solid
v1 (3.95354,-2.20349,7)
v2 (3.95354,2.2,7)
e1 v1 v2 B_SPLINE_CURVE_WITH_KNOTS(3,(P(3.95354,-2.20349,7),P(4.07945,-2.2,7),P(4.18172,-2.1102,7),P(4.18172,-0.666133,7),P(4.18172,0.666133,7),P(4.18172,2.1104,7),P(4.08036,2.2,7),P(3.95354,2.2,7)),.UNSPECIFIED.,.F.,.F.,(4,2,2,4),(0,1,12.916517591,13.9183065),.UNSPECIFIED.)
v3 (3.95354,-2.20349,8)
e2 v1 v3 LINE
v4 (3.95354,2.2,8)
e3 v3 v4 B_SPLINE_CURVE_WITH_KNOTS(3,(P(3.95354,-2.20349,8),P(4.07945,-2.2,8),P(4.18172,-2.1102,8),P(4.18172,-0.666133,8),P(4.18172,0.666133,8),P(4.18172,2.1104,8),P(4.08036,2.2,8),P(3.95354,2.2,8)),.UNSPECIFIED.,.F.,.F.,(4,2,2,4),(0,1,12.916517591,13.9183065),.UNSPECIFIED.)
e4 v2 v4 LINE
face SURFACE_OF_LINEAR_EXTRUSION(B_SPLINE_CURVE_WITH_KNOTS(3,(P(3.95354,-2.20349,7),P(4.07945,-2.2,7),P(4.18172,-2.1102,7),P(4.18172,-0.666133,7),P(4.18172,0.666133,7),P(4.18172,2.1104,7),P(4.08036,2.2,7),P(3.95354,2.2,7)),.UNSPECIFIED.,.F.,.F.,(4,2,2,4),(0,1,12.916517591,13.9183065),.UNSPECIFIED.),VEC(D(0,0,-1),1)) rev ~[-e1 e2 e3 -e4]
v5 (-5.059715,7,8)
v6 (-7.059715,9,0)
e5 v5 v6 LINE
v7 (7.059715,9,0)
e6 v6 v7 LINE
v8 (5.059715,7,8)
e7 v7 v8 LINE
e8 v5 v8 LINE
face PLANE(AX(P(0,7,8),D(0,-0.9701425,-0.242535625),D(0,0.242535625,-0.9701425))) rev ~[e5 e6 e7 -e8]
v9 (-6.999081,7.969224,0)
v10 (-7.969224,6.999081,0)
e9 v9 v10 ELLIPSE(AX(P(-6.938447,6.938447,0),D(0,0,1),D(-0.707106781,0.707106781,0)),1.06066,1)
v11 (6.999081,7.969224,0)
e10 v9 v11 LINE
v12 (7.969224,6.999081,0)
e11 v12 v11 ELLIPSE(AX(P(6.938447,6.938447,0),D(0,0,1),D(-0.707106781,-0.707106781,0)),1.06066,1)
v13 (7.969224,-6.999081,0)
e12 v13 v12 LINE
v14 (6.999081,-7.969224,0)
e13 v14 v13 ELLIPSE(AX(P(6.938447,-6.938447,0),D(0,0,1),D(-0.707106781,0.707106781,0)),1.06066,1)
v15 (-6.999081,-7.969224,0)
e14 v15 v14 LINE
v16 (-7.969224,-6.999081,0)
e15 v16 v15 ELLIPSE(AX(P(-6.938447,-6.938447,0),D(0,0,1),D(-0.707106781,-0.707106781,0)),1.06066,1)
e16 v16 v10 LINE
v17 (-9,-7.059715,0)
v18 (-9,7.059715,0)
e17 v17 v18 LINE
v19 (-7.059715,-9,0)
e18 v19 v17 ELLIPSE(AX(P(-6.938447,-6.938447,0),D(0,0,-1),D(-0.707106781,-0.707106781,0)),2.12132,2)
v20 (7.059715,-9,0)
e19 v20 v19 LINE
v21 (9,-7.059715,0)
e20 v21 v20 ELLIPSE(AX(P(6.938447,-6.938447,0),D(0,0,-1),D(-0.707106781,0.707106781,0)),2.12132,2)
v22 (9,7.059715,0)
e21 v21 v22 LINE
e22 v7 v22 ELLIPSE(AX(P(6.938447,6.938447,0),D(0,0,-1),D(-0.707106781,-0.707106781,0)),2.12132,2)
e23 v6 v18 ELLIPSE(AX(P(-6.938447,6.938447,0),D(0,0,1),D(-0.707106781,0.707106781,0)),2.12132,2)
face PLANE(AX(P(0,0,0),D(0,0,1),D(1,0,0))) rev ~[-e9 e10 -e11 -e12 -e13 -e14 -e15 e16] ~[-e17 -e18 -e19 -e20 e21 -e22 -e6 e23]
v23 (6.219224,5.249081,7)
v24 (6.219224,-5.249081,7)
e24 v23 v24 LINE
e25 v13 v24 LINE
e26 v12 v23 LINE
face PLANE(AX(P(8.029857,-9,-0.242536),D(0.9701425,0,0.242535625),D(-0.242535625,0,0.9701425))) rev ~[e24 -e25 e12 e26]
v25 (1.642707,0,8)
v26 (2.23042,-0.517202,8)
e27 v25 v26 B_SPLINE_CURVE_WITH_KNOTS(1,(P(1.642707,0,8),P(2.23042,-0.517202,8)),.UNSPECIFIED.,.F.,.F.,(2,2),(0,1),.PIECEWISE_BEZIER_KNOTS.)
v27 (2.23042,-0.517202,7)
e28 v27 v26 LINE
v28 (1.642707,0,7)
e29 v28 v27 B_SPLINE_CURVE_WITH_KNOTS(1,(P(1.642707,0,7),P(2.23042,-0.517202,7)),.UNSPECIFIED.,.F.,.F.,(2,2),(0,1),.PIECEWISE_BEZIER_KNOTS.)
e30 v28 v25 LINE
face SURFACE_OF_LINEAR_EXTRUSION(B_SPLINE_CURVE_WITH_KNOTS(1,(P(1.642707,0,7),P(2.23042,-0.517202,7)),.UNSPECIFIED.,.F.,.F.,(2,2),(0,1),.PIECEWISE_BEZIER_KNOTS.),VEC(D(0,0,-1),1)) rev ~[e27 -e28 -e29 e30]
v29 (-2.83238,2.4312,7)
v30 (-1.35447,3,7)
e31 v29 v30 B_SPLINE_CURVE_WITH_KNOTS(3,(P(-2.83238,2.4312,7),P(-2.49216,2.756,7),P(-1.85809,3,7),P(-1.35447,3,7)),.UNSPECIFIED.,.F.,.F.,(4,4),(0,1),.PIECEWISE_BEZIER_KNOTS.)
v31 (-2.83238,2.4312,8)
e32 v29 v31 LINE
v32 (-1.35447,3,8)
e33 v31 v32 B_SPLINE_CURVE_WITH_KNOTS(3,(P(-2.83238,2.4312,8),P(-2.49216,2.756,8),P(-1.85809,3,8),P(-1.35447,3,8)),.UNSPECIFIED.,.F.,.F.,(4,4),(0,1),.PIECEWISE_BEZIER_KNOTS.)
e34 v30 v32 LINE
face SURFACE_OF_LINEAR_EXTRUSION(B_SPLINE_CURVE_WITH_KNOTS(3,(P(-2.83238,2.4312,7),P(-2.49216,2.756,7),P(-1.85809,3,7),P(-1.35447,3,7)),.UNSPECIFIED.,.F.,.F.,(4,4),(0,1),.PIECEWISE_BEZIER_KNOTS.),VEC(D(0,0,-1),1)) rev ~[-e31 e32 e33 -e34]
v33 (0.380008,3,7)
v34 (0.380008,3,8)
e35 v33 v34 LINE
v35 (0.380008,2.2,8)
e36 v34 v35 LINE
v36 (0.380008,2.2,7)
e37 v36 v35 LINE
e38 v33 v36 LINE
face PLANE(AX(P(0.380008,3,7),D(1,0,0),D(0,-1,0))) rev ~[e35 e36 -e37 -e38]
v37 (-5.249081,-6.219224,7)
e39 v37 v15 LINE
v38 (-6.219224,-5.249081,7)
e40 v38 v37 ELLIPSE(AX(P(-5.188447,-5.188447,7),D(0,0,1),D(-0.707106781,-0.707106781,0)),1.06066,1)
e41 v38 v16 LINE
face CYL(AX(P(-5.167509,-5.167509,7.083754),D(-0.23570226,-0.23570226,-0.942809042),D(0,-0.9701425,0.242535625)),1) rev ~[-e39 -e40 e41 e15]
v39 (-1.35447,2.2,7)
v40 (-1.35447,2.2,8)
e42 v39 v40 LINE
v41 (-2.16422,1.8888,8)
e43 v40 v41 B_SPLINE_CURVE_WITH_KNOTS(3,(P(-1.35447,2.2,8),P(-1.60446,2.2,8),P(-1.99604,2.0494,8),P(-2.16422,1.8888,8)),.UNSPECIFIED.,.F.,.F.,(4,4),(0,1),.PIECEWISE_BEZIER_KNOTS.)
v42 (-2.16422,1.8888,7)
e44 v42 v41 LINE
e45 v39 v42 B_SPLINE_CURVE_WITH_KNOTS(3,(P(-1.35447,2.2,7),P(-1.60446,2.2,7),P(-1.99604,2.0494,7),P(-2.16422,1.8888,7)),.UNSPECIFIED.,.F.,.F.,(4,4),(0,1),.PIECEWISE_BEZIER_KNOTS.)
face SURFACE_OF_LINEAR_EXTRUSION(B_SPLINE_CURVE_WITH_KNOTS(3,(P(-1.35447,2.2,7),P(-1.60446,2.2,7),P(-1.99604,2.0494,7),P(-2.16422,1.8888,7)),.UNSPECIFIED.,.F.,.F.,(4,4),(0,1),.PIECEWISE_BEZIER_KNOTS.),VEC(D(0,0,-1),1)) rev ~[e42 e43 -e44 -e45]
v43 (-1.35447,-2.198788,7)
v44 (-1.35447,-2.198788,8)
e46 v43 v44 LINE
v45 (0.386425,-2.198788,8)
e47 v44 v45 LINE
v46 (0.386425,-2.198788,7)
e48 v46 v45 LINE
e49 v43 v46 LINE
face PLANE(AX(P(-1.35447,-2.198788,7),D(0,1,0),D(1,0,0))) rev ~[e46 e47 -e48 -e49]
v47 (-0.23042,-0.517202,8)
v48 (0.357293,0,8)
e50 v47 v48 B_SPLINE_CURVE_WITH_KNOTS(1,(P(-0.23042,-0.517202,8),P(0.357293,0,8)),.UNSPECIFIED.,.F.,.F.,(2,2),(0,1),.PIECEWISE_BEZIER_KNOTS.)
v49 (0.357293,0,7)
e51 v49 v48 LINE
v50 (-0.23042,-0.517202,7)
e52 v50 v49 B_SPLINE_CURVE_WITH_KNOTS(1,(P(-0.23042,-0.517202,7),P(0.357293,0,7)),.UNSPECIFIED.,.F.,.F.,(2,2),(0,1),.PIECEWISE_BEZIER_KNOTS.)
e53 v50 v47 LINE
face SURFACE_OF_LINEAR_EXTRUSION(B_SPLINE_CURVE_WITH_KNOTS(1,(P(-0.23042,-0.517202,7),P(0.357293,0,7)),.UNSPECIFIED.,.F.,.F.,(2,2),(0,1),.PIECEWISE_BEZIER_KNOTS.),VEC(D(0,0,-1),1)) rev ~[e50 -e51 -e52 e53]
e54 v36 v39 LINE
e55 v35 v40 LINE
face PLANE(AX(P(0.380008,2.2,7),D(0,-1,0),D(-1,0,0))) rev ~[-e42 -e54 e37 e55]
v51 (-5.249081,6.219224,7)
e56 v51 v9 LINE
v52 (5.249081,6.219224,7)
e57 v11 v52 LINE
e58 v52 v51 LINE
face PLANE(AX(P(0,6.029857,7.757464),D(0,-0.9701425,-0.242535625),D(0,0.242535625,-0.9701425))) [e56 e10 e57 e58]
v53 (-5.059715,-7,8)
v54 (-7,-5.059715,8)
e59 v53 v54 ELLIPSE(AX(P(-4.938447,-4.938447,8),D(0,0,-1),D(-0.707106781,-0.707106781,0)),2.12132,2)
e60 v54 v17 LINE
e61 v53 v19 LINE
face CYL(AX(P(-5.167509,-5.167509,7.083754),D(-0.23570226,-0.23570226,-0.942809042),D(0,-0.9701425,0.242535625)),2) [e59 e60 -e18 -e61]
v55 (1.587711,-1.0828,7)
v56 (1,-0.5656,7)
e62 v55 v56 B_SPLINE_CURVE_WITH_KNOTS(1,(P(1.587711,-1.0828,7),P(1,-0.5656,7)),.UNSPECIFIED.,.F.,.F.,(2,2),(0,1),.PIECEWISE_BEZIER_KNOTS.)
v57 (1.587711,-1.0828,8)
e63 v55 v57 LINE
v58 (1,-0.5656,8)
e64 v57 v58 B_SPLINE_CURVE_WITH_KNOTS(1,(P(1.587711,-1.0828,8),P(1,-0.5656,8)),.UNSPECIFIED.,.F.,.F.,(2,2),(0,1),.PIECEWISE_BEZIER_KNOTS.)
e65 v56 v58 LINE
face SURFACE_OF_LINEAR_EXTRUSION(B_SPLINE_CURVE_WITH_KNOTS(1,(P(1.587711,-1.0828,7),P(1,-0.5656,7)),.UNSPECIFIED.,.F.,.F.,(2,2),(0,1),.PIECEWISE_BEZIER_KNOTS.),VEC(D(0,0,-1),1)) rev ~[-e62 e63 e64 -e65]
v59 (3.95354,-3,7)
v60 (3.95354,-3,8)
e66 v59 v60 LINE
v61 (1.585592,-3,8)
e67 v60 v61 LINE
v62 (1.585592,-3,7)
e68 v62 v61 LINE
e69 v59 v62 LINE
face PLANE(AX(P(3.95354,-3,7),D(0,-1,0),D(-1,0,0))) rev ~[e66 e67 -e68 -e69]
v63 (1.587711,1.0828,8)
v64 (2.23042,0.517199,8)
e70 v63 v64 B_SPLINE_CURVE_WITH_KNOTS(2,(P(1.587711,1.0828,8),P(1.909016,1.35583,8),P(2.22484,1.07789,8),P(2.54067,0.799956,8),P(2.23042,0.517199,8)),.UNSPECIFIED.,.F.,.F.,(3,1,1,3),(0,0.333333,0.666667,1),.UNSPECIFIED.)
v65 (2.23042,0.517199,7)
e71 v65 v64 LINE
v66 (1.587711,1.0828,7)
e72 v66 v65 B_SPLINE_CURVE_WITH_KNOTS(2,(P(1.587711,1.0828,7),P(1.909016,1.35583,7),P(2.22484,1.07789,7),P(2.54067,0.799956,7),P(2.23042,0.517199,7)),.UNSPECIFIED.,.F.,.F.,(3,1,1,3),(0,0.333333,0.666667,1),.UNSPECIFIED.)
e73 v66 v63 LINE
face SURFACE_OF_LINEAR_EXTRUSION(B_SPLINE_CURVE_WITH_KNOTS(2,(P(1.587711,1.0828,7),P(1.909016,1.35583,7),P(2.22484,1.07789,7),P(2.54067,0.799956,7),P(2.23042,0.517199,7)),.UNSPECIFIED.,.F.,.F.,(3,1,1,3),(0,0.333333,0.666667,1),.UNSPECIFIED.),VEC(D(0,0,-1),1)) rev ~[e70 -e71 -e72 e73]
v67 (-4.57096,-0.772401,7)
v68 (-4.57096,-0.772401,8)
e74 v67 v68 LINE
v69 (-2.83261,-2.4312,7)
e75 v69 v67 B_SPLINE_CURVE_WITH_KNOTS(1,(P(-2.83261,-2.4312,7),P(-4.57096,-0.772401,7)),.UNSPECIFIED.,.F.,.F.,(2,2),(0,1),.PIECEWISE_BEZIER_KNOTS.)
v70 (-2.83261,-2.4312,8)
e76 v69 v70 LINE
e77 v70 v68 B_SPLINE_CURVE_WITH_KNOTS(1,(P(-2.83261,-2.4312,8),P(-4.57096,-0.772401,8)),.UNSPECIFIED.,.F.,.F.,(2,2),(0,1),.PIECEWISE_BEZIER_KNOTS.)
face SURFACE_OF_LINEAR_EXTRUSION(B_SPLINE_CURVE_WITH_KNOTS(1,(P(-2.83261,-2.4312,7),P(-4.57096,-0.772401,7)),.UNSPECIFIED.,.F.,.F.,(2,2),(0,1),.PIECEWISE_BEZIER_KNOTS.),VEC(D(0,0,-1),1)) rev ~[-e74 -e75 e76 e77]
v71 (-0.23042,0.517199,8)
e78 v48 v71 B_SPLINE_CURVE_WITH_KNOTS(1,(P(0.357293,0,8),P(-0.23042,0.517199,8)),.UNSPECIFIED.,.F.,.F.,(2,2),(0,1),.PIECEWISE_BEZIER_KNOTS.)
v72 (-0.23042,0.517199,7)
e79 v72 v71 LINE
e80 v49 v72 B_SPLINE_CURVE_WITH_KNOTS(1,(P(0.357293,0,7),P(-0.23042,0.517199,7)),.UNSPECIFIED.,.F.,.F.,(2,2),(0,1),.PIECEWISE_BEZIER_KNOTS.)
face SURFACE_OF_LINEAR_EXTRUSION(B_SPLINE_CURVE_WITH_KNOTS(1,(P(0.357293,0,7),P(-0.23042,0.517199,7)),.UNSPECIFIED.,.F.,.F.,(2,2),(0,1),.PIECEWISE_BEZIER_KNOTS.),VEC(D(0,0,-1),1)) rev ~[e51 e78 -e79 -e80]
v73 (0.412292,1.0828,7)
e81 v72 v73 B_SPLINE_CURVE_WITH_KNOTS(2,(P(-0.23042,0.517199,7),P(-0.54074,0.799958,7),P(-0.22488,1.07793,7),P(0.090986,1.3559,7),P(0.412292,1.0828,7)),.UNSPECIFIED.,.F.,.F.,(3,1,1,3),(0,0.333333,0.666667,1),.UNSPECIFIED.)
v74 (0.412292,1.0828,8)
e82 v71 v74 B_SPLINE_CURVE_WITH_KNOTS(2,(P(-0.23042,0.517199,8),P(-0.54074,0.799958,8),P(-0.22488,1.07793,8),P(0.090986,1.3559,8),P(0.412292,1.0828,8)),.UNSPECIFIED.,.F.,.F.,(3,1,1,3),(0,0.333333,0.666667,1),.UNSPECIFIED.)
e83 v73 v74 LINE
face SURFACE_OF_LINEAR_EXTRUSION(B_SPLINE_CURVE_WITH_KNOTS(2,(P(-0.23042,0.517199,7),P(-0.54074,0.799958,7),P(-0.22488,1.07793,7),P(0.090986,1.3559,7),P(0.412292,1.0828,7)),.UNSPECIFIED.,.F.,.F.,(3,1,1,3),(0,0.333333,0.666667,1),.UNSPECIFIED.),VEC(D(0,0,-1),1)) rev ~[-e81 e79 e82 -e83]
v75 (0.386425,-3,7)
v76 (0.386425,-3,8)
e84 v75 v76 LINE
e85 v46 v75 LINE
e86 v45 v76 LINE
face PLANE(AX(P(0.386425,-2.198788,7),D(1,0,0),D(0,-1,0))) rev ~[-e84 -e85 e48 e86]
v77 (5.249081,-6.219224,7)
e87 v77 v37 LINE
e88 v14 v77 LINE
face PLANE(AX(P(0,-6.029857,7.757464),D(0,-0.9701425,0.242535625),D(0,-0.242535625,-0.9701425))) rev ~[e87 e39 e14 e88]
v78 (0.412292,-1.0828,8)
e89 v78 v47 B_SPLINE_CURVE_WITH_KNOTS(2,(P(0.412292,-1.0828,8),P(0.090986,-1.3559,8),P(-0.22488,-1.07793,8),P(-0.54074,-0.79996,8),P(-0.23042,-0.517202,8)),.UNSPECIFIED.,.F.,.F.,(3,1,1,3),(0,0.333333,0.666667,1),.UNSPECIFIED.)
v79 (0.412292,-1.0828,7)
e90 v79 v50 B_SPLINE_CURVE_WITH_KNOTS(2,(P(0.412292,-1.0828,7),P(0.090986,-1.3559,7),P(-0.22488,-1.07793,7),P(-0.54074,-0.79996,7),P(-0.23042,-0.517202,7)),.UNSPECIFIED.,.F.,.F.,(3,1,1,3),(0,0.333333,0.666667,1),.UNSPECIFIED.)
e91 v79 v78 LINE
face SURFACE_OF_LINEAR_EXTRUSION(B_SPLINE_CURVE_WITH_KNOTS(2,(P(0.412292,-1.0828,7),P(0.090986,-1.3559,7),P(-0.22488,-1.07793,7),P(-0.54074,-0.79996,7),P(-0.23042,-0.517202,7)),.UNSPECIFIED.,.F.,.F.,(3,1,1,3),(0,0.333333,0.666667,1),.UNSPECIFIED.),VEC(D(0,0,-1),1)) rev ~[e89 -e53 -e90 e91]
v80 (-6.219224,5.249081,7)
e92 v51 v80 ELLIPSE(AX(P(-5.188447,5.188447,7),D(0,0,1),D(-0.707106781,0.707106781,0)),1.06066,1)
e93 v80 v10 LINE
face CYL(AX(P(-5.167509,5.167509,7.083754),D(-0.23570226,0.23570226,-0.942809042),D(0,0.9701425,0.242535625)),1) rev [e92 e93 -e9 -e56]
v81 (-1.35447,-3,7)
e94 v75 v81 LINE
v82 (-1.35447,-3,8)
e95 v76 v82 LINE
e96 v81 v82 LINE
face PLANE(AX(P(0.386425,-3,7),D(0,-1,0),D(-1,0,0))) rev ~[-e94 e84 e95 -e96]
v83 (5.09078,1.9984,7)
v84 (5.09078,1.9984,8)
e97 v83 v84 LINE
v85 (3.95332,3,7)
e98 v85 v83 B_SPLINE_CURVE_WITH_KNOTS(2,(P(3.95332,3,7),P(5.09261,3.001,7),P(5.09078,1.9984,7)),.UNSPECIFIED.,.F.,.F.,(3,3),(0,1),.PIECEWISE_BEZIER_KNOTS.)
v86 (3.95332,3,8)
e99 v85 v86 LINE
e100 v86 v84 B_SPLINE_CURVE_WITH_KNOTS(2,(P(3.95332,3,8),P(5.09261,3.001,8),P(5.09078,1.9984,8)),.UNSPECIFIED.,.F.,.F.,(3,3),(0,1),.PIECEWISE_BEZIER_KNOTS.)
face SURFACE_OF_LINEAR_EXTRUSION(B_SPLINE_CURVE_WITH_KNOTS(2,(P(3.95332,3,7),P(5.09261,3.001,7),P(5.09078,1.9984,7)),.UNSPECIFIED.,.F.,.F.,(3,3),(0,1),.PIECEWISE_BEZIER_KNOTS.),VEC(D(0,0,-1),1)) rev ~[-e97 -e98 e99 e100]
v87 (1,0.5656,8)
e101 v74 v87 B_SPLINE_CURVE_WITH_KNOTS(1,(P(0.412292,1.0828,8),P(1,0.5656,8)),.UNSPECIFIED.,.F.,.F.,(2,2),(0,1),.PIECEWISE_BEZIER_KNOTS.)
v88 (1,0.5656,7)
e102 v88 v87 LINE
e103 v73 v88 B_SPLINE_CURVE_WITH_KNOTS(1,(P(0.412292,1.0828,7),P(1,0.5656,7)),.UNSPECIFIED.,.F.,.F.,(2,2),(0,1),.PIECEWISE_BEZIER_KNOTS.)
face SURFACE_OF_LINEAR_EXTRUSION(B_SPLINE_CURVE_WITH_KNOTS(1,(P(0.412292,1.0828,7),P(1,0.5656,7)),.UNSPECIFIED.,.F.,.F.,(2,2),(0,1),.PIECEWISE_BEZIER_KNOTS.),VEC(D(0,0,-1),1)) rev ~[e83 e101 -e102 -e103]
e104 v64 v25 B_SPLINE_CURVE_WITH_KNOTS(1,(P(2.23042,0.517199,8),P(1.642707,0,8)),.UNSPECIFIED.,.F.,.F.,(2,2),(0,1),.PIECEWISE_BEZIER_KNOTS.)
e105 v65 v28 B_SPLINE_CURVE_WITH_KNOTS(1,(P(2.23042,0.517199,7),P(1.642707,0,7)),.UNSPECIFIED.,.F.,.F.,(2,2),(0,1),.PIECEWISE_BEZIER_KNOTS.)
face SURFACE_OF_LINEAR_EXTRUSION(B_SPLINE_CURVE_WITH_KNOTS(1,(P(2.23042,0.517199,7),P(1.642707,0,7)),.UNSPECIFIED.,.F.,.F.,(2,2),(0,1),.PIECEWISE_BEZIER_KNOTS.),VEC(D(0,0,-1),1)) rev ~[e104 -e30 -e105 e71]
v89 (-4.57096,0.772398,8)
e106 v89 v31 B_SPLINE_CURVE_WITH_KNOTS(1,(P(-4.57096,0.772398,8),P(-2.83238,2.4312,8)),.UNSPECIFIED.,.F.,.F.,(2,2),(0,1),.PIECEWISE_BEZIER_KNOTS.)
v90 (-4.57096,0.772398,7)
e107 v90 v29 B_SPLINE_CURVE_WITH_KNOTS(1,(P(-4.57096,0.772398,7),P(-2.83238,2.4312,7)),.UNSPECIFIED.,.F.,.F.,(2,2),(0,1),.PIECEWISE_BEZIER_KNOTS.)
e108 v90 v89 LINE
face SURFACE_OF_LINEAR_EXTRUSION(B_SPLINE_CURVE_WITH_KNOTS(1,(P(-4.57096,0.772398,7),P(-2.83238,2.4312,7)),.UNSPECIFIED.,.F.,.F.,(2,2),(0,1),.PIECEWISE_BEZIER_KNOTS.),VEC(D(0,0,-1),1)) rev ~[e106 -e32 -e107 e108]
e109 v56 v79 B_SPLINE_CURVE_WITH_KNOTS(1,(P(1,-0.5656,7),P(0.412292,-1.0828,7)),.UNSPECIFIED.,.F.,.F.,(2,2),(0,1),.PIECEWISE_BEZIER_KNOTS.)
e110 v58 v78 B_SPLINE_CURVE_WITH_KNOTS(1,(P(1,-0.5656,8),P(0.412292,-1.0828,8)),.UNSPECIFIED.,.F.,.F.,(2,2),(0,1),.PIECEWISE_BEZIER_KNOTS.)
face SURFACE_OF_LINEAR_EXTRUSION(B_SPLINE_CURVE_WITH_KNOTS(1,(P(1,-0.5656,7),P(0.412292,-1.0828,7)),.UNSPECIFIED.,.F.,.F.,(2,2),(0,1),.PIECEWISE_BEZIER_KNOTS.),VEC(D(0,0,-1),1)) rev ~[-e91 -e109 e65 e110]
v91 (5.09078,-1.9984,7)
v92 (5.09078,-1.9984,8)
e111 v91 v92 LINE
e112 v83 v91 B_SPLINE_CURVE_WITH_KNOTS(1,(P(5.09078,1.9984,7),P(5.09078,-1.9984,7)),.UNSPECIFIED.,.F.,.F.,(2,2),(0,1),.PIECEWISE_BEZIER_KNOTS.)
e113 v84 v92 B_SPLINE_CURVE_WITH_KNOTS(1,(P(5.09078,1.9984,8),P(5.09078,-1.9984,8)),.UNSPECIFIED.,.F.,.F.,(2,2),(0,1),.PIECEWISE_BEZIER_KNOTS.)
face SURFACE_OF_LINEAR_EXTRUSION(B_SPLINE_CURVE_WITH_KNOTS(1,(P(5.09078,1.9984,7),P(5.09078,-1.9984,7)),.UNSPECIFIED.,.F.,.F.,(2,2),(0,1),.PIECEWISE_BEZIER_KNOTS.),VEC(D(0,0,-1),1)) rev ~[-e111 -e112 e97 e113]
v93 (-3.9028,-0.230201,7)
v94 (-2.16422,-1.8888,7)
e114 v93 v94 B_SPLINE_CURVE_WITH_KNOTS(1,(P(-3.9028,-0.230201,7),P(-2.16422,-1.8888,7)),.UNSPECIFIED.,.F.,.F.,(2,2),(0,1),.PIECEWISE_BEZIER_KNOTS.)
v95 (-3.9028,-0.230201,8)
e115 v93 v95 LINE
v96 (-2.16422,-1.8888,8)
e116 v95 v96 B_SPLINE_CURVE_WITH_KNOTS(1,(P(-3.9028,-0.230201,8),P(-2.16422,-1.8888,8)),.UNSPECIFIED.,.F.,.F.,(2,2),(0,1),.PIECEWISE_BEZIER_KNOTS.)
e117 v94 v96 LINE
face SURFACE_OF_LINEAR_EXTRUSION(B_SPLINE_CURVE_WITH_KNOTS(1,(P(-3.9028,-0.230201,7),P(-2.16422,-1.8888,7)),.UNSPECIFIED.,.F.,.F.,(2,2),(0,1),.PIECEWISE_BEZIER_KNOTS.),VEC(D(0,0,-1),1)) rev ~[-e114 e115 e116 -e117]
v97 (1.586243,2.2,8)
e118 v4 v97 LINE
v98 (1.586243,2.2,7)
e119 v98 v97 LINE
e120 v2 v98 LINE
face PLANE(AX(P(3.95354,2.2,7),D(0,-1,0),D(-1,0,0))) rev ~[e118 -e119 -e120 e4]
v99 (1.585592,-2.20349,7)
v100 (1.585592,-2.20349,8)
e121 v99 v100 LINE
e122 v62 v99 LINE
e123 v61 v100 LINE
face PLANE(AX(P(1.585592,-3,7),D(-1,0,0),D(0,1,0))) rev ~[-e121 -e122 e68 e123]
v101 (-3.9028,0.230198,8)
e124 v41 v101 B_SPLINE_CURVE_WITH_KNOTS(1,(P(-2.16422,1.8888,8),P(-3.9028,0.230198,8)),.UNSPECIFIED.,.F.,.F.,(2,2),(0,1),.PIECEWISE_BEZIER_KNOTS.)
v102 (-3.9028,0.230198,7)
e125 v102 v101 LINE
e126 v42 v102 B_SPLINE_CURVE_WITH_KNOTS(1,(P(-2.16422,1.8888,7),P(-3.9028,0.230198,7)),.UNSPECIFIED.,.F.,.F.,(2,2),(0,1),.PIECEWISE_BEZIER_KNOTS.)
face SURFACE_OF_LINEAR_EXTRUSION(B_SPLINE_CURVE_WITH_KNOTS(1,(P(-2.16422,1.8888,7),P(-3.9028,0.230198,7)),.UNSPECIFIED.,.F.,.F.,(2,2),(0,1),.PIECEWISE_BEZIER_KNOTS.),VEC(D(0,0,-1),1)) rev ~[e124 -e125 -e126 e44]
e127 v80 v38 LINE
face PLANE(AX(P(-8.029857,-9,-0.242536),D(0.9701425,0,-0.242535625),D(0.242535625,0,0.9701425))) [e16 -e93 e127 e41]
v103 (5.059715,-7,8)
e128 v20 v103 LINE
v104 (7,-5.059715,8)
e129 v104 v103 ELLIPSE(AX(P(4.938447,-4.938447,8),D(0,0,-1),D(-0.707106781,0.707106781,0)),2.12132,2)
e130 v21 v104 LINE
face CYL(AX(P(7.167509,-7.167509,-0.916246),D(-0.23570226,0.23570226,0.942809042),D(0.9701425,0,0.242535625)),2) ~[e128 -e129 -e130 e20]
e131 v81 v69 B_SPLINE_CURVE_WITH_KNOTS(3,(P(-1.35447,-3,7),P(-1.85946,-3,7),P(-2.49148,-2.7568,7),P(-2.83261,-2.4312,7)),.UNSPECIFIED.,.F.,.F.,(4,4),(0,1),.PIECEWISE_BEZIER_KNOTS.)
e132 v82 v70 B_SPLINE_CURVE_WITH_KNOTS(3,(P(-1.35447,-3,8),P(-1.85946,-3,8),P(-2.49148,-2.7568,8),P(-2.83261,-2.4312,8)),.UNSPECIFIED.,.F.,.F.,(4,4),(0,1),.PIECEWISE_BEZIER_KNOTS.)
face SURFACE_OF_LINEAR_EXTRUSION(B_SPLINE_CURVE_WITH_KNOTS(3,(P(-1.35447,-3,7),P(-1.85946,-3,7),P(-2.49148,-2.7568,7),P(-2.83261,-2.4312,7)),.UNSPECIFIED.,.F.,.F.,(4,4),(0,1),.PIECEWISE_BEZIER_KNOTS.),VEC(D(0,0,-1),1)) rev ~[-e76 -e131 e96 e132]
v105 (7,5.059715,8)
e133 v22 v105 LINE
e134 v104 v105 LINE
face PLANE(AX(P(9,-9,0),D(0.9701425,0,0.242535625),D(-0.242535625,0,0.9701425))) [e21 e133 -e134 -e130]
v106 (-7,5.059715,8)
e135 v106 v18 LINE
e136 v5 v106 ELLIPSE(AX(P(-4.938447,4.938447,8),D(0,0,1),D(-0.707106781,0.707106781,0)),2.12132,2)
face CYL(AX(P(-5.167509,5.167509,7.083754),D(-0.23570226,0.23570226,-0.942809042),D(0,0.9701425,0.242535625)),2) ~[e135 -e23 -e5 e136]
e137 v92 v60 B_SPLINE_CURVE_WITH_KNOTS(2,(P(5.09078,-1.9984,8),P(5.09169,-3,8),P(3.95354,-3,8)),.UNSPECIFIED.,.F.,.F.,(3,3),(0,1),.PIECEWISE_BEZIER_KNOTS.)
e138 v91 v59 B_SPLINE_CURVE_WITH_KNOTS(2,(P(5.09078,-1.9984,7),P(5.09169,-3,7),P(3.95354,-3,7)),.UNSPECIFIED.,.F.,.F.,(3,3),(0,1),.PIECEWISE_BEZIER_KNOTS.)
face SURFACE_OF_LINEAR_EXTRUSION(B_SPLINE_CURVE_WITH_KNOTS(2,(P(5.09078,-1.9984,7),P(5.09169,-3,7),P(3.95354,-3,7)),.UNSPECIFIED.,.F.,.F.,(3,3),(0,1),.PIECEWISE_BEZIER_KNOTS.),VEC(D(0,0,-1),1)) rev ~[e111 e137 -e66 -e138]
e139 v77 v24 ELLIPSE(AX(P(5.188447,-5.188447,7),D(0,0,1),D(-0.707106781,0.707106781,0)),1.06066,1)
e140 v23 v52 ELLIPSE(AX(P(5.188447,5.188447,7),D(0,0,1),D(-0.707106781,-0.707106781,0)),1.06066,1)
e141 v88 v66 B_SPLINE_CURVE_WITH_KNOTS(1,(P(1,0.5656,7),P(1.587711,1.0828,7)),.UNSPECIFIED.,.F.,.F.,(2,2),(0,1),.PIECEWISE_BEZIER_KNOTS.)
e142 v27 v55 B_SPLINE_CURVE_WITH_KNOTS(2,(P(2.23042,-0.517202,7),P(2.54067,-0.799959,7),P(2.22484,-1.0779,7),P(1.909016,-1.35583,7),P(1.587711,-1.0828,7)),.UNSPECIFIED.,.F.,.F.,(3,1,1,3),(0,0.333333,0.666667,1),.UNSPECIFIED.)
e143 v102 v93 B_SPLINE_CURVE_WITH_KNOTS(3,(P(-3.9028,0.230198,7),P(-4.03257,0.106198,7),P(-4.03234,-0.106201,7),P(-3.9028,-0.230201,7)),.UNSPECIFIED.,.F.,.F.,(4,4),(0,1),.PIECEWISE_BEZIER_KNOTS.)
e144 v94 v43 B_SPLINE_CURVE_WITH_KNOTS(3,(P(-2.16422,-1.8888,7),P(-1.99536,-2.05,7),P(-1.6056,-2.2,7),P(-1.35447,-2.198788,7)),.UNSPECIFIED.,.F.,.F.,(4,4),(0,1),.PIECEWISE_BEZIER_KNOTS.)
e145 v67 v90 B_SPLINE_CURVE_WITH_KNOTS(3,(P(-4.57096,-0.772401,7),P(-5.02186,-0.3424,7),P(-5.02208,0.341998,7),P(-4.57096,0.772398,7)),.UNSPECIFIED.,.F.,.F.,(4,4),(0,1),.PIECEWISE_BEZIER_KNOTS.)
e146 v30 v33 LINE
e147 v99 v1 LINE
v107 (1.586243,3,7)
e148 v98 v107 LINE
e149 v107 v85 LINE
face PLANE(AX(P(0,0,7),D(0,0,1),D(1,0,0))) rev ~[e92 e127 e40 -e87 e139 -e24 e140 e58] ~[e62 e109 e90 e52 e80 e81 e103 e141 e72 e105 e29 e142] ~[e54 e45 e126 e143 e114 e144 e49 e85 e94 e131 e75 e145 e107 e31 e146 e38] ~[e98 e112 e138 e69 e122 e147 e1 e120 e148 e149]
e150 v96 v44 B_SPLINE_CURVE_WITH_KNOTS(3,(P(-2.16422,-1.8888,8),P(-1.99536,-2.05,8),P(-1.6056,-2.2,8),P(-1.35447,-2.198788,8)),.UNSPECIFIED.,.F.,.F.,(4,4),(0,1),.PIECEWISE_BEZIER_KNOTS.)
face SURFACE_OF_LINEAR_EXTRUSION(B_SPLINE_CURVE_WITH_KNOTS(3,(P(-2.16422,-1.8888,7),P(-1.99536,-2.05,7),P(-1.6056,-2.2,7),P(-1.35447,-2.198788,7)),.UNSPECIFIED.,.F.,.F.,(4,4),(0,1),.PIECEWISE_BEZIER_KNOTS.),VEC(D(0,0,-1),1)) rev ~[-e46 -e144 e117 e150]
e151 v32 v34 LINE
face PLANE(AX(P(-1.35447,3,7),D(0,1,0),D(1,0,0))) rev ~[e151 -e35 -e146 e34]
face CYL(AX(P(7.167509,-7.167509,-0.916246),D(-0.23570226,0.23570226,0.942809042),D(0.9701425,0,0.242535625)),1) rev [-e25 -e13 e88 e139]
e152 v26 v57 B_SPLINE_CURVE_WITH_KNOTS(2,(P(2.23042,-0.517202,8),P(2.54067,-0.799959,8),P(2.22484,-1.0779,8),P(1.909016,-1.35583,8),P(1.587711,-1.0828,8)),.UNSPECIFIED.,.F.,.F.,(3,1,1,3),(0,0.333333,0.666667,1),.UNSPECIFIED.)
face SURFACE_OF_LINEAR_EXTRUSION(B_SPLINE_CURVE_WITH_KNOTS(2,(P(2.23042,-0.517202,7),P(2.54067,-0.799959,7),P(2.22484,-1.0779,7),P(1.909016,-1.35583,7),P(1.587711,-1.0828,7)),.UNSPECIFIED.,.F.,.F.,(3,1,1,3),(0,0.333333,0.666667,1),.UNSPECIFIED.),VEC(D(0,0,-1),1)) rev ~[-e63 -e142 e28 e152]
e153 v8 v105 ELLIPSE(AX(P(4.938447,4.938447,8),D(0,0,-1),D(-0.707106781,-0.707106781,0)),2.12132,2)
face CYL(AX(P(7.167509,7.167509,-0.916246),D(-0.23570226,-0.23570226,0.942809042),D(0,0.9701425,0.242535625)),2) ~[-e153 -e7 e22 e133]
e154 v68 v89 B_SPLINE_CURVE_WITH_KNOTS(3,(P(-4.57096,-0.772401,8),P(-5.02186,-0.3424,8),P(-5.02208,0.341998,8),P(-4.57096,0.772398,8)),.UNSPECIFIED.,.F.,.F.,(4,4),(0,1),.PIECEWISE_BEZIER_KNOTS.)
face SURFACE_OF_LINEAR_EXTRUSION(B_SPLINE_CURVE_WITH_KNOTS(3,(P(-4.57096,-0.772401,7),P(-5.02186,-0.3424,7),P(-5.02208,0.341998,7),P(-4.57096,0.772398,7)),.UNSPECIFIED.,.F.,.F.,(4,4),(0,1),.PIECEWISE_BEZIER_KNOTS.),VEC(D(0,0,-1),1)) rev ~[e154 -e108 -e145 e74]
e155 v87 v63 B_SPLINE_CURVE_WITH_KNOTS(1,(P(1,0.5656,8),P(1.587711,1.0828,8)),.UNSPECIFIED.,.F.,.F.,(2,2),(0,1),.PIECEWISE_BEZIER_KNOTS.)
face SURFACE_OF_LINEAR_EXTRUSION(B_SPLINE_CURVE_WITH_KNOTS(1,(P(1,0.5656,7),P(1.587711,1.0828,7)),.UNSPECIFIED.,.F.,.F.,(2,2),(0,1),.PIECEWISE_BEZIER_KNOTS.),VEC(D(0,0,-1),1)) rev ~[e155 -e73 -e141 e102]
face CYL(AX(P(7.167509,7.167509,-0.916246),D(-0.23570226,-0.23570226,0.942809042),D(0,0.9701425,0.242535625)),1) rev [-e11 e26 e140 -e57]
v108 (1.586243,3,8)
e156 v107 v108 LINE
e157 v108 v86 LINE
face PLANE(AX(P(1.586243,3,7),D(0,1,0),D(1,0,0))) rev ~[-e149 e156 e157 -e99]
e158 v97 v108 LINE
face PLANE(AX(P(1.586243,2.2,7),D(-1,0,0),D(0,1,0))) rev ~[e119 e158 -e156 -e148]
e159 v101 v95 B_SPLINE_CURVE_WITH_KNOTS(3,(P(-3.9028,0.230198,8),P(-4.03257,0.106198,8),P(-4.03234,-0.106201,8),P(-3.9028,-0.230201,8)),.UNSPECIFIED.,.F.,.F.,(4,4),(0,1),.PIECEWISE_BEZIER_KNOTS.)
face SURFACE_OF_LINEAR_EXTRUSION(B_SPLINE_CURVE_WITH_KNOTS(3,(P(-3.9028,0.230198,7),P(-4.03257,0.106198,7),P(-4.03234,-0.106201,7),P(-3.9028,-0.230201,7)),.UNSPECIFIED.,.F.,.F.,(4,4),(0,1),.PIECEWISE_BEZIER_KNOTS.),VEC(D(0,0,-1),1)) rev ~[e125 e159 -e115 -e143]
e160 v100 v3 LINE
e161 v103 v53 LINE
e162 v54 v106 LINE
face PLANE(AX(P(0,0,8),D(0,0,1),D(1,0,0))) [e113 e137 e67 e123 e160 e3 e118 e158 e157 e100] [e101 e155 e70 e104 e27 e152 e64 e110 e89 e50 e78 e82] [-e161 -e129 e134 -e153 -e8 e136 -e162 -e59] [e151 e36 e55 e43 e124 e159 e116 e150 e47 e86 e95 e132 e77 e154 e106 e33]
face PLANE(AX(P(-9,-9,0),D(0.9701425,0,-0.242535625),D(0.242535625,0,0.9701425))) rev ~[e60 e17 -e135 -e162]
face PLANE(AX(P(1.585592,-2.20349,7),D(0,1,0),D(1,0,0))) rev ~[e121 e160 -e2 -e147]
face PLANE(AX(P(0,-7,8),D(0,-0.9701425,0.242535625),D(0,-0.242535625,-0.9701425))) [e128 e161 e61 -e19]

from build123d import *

# Parameters (mm, degrees)
EXTRUDE_DEPTH        = 1
SKETCH_W             = 18
SKETCH_H             = 18
PAD_DEPTH            = 8
POCKET_DEPTH         = 18.001
POCKET001_DEPTH      = 9.001
POCKET001_DEPTH_BACK = 9.001
FILLET_R             = 2
THICKNESS_T          = -1


with BuildPart() as extrude_body:
    # Sketch003 → Extrude (new body)
    with BuildSketch(Plane.XY):
        with BuildLine():
            add(Edge.make_bspline(
                [(0, 0.5656), (0.587711, 1.0828)],
                knots=[0, 0, 1, 1], degree=1))
            add(Edge.make_bspline(
                [(0.587711, 1.0828), (0.909016, 1.35583), (1.22484, 1.07789), (1.54067, 0.799956), (1.23042, 0.517199)],
                knots=[0, 0, 0, 0.333333, 0.666667, 1, 1, 1], degree=2))
            add(Edge.make_bspline(
                [(1.23042, 0.517199), (0.642707, 0)],
                knots=[0, 0, 1, 1], degree=1))
            add(Edge.make_bspline(
                [(0.642707, 0), (1.23042, -0.517202)],
                knots=[0, 0, 1, 1], degree=1))
            add(Edge.make_bspline(
                [(1.23042, -0.517202), (1.54067, -0.799959), (1.22484, -1.0779), (0.909016, -1.35583), (0.587711, -1.0828)],
                knots=[0, 0, 0, 0.333333, 0.666667, 1, 1, 1], degree=2))
            add(Edge.make_bspline(
                [(0.587711, -1.0828), (0, -0.5656)],
                knots=[0, 0, 1, 1], degree=1))
            add(Edge.make_bspline(
                [(0, -0.5656), (-0.587708, -1.0828)],
                knots=[0, 0, 1, 1], degree=1))
            add(Edge.make_bspline(
                [(-0.587708, -1.0828), (-0.909014, -1.3559), (-1.22488, -1.07793), (-1.54074, -0.79996), (-1.23042, -0.517202)],
                knots=[0, 0, 0, 0.333333, 0.666667, 1, 1, 1], degree=2))
            add(Edge.make_bspline(
                [(-1.23042, -0.517202), (-0.642707, 0)],
                knots=[0, 0, 1, 1], degree=1))
            add(Edge.make_bspline(
                [(-0.642707, 0), (-1.23042, 0.517199)],
                knots=[0, 0, 1, 1], degree=1))
            add(Edge.make_bspline(
                [(-1.23042, 0.517199), (-1.54074, 0.799958), (-1.22488, 1.07793), (-0.909014, 1.3559), (-0.587708, 1.0828)],
                knots=[0, 0, 0, 0.333333, 0.666667, 1, 1, 1], degree=2))
            add(Edge.make_bspline(
                [(-0.587708, 1.0828), (0, 0.5656)],
                knots=[0, 0, 1, 1], degree=1))
        make_face()
        with BuildLine():
            Line((-0.613575, -3), (-2.35447, -3))
            add(Edge.make_bspline(
                [(-2.35447, -3), (-2.85946, -3), (-3.49148, -2.7568), (-3.83261, -2.4312)],
                knots=[0, 0, 0, 0, 1, 1, 1, 1], degree=3))
            add(Edge.make_bspline(
                [(-3.83261, -2.4312), (-5.57096, -0.772401)],
                knots=[0, 0, 1, 1], degree=1))
            add(Edge.make_bspline(
                [(-5.57096, -0.772401), (-6.02186, -0.3424), (-6.02208, 0.341998), (-5.57096, 0.772398)],
                knots=[0, 0, 0, 0, 1, 1, 1, 1], degree=3))
            add(Edge.make_bspline(
                [(-5.57096, 0.772398), (-3.83238, 2.4312)],
                knots=[0, 0, 1, 1], degree=1))
            add(Edge.make_bspline(
                [(-3.83238, 2.4312), (-3.49216, 2.756), (-2.85809, 3), (-2.35447, 3)],
                knots=[0, 0, 0, 0, 1, 1, 1, 1], degree=3))
            Line((-2.35447, 3), (-0.619992, 3))
            Line((-0.619992, 3), (-0.619992, 2.2))
            Line((-0.619992, 2.2), (-2.35447, 2.2))
            add(Edge.make_bspline(
                [(-2.35447, 2.2), (-2.60446, 2.2), (-2.99604, 2.0494), (-3.16422, 1.8888)],
                knots=[0, 0, 0, 0, 1, 1, 1, 1], degree=3))
            add(Edge.make_bspline(
                [(-3.16422, 1.8888), (-4.9028, 0.230198)],
                knots=[0, 0, 1, 1], degree=1))
            add(Edge.make_bspline(
                [(-4.9028, 0.230198), (-5.03257, 0.106198), (-5.03234, -0.106201), (-4.9028, -0.230201)],
                knots=[0, 0, 0, 0, 1, 1, 1, 1], degree=3))
            add(Edge.make_bspline(
                [(-4.9028, -0.230201), (-3.16422, -1.8888)],
                knots=[0, 0, 1, 1], degree=1))
            add(Edge.make_bspline(
                [(-3.16422, -1.8888), (-2.99536, -2.05), (-2.6056, -2.2), (-2.35447, -2.198788)],
                knots=[0, 0, 0, 0, 1, 1, 1, 1], degree=3))
            Line((-2.35447, -2.198788), (-0.613575, -2.198788))
            Line((-0.613575, -2.198788), (-0.613575, -3))
        make_face()
        with BuildLine():
            add(Edge.make_bspline(
                [(2.95332, 3), (4.09261, 3.001), (4.09078, 1.9984)],
                knots=[0, 0, 0, 1, 1, 1], degree=2))
            add(Edge.make_bspline(
                [(4.09078, 1.9984), (4.09078, -1.9984)],
                knots=[0, 0, 1, 1], degree=1))
            add(Edge.make_bspline(
                [(4.09078, -1.9984), (4.09169, -3), (2.95354, -3)],
                knots=[0, 0, 0, 1, 1, 1], degree=2))
            Line((2.95354, -3), (0.585592, -3))
            Line((0.585592, -3), (0.585592, -2.20349))
            Line((0.585592, -2.20349), (2.95354, -2.20349))
            add(Edge.make_bspline(
                [(2.95354, -2.20349), (3.07945, -2.2), (3.18172, -2.1102), (3.18172, -1.9984)],
                knots=[0, 0, 0, 0, 1, 1, 1, 1], degree=3))
            add(Edge.make_bspline(
                [(3.18172, -1.9984), (3.18172, 1.9984)],
                knots=[0, 0, 1, 1], degree=1))
            add(Edge.make_bspline(
                [(3.18172, 1.9984), (3.18172, 2.1104), (3.08036, 2.2), (2.95354, 2.2)],
                knots=[0, 0, 0, 0, 1, 1, 1, 1], degree=3))
            Line((2.95354, 2.2), (0.586243, 2.2))
            Line((0.586243, 2.2), (0.586243, 3))
            Line((0.586243, 3), (2.95332, 3))
        make_face()
    extrude(amount=EXTRUDE_DEPTH)


with BuildPart() as extrude_body_1:
    # Extrude placement: moved
    add(extrude_body.part.moved(Location((1, 0, 7))))


with BuildPart() as cut:
    # Sketch → Pad (new body)
    with BuildSketch(Plane.XY):
        Rectangle(SKETCH_W, SKETCH_H)
    extrude(amount=PAD_DEPTH)

    # Sketch001 (on Face1 of Pad) → Pocket (cut, through all)
    with BuildSketch(Plane.XZ.offset(9)):
        Polygon((-9, 8), (-9, 0), (-7, 8), align=None)
        Polygon((9, 8), (9, 0), (7, 8), align=None)
    extrude(amount=-POCKET_DEPTH, mode=Mode.SUBTRACT)

    # Sketch002 → Pocket001 (cut, two sides)
    with BuildSketch(Plane.YZ) as pocket001_sk:
        Polygon((-9, 8), (-7, 8), (-9, 0), align=None)
        Polygon((9, 8), (7, 8), (9, 0), align=None)
    extrude(amount=-POCKET001_DEPTH, mode=Mode.SUBTRACT)
    extrude(pocket001_sk.sketch, amount=POCKET001_DEPTH_BACK, mode=Mode.SUBTRACT)

    # Fillet
    fillet_edges = [cut.edges().sort_by_distance(p)[0] for p in [
        (-8, 8, 4),
        (-8, -8, 4),
        (8, -8, 4),
        (8, 8, 4),
    ]]
    fillet(fillet_edges, radius=FILLET_R)

    # Thickness
    thickness_openings = [cut.faces().sort_by_distance(p)[0] for p in [
        (0, 0, 0),
    ]]
    offset(amount=THICKNESS_T, openings=thickness_openings, kind=Kind.INTERSECTION)

    # Cut: cut Extrude body
    add(extrude_body_1.part, mode=Mode.SUBTRACT)


solid = cut.part
